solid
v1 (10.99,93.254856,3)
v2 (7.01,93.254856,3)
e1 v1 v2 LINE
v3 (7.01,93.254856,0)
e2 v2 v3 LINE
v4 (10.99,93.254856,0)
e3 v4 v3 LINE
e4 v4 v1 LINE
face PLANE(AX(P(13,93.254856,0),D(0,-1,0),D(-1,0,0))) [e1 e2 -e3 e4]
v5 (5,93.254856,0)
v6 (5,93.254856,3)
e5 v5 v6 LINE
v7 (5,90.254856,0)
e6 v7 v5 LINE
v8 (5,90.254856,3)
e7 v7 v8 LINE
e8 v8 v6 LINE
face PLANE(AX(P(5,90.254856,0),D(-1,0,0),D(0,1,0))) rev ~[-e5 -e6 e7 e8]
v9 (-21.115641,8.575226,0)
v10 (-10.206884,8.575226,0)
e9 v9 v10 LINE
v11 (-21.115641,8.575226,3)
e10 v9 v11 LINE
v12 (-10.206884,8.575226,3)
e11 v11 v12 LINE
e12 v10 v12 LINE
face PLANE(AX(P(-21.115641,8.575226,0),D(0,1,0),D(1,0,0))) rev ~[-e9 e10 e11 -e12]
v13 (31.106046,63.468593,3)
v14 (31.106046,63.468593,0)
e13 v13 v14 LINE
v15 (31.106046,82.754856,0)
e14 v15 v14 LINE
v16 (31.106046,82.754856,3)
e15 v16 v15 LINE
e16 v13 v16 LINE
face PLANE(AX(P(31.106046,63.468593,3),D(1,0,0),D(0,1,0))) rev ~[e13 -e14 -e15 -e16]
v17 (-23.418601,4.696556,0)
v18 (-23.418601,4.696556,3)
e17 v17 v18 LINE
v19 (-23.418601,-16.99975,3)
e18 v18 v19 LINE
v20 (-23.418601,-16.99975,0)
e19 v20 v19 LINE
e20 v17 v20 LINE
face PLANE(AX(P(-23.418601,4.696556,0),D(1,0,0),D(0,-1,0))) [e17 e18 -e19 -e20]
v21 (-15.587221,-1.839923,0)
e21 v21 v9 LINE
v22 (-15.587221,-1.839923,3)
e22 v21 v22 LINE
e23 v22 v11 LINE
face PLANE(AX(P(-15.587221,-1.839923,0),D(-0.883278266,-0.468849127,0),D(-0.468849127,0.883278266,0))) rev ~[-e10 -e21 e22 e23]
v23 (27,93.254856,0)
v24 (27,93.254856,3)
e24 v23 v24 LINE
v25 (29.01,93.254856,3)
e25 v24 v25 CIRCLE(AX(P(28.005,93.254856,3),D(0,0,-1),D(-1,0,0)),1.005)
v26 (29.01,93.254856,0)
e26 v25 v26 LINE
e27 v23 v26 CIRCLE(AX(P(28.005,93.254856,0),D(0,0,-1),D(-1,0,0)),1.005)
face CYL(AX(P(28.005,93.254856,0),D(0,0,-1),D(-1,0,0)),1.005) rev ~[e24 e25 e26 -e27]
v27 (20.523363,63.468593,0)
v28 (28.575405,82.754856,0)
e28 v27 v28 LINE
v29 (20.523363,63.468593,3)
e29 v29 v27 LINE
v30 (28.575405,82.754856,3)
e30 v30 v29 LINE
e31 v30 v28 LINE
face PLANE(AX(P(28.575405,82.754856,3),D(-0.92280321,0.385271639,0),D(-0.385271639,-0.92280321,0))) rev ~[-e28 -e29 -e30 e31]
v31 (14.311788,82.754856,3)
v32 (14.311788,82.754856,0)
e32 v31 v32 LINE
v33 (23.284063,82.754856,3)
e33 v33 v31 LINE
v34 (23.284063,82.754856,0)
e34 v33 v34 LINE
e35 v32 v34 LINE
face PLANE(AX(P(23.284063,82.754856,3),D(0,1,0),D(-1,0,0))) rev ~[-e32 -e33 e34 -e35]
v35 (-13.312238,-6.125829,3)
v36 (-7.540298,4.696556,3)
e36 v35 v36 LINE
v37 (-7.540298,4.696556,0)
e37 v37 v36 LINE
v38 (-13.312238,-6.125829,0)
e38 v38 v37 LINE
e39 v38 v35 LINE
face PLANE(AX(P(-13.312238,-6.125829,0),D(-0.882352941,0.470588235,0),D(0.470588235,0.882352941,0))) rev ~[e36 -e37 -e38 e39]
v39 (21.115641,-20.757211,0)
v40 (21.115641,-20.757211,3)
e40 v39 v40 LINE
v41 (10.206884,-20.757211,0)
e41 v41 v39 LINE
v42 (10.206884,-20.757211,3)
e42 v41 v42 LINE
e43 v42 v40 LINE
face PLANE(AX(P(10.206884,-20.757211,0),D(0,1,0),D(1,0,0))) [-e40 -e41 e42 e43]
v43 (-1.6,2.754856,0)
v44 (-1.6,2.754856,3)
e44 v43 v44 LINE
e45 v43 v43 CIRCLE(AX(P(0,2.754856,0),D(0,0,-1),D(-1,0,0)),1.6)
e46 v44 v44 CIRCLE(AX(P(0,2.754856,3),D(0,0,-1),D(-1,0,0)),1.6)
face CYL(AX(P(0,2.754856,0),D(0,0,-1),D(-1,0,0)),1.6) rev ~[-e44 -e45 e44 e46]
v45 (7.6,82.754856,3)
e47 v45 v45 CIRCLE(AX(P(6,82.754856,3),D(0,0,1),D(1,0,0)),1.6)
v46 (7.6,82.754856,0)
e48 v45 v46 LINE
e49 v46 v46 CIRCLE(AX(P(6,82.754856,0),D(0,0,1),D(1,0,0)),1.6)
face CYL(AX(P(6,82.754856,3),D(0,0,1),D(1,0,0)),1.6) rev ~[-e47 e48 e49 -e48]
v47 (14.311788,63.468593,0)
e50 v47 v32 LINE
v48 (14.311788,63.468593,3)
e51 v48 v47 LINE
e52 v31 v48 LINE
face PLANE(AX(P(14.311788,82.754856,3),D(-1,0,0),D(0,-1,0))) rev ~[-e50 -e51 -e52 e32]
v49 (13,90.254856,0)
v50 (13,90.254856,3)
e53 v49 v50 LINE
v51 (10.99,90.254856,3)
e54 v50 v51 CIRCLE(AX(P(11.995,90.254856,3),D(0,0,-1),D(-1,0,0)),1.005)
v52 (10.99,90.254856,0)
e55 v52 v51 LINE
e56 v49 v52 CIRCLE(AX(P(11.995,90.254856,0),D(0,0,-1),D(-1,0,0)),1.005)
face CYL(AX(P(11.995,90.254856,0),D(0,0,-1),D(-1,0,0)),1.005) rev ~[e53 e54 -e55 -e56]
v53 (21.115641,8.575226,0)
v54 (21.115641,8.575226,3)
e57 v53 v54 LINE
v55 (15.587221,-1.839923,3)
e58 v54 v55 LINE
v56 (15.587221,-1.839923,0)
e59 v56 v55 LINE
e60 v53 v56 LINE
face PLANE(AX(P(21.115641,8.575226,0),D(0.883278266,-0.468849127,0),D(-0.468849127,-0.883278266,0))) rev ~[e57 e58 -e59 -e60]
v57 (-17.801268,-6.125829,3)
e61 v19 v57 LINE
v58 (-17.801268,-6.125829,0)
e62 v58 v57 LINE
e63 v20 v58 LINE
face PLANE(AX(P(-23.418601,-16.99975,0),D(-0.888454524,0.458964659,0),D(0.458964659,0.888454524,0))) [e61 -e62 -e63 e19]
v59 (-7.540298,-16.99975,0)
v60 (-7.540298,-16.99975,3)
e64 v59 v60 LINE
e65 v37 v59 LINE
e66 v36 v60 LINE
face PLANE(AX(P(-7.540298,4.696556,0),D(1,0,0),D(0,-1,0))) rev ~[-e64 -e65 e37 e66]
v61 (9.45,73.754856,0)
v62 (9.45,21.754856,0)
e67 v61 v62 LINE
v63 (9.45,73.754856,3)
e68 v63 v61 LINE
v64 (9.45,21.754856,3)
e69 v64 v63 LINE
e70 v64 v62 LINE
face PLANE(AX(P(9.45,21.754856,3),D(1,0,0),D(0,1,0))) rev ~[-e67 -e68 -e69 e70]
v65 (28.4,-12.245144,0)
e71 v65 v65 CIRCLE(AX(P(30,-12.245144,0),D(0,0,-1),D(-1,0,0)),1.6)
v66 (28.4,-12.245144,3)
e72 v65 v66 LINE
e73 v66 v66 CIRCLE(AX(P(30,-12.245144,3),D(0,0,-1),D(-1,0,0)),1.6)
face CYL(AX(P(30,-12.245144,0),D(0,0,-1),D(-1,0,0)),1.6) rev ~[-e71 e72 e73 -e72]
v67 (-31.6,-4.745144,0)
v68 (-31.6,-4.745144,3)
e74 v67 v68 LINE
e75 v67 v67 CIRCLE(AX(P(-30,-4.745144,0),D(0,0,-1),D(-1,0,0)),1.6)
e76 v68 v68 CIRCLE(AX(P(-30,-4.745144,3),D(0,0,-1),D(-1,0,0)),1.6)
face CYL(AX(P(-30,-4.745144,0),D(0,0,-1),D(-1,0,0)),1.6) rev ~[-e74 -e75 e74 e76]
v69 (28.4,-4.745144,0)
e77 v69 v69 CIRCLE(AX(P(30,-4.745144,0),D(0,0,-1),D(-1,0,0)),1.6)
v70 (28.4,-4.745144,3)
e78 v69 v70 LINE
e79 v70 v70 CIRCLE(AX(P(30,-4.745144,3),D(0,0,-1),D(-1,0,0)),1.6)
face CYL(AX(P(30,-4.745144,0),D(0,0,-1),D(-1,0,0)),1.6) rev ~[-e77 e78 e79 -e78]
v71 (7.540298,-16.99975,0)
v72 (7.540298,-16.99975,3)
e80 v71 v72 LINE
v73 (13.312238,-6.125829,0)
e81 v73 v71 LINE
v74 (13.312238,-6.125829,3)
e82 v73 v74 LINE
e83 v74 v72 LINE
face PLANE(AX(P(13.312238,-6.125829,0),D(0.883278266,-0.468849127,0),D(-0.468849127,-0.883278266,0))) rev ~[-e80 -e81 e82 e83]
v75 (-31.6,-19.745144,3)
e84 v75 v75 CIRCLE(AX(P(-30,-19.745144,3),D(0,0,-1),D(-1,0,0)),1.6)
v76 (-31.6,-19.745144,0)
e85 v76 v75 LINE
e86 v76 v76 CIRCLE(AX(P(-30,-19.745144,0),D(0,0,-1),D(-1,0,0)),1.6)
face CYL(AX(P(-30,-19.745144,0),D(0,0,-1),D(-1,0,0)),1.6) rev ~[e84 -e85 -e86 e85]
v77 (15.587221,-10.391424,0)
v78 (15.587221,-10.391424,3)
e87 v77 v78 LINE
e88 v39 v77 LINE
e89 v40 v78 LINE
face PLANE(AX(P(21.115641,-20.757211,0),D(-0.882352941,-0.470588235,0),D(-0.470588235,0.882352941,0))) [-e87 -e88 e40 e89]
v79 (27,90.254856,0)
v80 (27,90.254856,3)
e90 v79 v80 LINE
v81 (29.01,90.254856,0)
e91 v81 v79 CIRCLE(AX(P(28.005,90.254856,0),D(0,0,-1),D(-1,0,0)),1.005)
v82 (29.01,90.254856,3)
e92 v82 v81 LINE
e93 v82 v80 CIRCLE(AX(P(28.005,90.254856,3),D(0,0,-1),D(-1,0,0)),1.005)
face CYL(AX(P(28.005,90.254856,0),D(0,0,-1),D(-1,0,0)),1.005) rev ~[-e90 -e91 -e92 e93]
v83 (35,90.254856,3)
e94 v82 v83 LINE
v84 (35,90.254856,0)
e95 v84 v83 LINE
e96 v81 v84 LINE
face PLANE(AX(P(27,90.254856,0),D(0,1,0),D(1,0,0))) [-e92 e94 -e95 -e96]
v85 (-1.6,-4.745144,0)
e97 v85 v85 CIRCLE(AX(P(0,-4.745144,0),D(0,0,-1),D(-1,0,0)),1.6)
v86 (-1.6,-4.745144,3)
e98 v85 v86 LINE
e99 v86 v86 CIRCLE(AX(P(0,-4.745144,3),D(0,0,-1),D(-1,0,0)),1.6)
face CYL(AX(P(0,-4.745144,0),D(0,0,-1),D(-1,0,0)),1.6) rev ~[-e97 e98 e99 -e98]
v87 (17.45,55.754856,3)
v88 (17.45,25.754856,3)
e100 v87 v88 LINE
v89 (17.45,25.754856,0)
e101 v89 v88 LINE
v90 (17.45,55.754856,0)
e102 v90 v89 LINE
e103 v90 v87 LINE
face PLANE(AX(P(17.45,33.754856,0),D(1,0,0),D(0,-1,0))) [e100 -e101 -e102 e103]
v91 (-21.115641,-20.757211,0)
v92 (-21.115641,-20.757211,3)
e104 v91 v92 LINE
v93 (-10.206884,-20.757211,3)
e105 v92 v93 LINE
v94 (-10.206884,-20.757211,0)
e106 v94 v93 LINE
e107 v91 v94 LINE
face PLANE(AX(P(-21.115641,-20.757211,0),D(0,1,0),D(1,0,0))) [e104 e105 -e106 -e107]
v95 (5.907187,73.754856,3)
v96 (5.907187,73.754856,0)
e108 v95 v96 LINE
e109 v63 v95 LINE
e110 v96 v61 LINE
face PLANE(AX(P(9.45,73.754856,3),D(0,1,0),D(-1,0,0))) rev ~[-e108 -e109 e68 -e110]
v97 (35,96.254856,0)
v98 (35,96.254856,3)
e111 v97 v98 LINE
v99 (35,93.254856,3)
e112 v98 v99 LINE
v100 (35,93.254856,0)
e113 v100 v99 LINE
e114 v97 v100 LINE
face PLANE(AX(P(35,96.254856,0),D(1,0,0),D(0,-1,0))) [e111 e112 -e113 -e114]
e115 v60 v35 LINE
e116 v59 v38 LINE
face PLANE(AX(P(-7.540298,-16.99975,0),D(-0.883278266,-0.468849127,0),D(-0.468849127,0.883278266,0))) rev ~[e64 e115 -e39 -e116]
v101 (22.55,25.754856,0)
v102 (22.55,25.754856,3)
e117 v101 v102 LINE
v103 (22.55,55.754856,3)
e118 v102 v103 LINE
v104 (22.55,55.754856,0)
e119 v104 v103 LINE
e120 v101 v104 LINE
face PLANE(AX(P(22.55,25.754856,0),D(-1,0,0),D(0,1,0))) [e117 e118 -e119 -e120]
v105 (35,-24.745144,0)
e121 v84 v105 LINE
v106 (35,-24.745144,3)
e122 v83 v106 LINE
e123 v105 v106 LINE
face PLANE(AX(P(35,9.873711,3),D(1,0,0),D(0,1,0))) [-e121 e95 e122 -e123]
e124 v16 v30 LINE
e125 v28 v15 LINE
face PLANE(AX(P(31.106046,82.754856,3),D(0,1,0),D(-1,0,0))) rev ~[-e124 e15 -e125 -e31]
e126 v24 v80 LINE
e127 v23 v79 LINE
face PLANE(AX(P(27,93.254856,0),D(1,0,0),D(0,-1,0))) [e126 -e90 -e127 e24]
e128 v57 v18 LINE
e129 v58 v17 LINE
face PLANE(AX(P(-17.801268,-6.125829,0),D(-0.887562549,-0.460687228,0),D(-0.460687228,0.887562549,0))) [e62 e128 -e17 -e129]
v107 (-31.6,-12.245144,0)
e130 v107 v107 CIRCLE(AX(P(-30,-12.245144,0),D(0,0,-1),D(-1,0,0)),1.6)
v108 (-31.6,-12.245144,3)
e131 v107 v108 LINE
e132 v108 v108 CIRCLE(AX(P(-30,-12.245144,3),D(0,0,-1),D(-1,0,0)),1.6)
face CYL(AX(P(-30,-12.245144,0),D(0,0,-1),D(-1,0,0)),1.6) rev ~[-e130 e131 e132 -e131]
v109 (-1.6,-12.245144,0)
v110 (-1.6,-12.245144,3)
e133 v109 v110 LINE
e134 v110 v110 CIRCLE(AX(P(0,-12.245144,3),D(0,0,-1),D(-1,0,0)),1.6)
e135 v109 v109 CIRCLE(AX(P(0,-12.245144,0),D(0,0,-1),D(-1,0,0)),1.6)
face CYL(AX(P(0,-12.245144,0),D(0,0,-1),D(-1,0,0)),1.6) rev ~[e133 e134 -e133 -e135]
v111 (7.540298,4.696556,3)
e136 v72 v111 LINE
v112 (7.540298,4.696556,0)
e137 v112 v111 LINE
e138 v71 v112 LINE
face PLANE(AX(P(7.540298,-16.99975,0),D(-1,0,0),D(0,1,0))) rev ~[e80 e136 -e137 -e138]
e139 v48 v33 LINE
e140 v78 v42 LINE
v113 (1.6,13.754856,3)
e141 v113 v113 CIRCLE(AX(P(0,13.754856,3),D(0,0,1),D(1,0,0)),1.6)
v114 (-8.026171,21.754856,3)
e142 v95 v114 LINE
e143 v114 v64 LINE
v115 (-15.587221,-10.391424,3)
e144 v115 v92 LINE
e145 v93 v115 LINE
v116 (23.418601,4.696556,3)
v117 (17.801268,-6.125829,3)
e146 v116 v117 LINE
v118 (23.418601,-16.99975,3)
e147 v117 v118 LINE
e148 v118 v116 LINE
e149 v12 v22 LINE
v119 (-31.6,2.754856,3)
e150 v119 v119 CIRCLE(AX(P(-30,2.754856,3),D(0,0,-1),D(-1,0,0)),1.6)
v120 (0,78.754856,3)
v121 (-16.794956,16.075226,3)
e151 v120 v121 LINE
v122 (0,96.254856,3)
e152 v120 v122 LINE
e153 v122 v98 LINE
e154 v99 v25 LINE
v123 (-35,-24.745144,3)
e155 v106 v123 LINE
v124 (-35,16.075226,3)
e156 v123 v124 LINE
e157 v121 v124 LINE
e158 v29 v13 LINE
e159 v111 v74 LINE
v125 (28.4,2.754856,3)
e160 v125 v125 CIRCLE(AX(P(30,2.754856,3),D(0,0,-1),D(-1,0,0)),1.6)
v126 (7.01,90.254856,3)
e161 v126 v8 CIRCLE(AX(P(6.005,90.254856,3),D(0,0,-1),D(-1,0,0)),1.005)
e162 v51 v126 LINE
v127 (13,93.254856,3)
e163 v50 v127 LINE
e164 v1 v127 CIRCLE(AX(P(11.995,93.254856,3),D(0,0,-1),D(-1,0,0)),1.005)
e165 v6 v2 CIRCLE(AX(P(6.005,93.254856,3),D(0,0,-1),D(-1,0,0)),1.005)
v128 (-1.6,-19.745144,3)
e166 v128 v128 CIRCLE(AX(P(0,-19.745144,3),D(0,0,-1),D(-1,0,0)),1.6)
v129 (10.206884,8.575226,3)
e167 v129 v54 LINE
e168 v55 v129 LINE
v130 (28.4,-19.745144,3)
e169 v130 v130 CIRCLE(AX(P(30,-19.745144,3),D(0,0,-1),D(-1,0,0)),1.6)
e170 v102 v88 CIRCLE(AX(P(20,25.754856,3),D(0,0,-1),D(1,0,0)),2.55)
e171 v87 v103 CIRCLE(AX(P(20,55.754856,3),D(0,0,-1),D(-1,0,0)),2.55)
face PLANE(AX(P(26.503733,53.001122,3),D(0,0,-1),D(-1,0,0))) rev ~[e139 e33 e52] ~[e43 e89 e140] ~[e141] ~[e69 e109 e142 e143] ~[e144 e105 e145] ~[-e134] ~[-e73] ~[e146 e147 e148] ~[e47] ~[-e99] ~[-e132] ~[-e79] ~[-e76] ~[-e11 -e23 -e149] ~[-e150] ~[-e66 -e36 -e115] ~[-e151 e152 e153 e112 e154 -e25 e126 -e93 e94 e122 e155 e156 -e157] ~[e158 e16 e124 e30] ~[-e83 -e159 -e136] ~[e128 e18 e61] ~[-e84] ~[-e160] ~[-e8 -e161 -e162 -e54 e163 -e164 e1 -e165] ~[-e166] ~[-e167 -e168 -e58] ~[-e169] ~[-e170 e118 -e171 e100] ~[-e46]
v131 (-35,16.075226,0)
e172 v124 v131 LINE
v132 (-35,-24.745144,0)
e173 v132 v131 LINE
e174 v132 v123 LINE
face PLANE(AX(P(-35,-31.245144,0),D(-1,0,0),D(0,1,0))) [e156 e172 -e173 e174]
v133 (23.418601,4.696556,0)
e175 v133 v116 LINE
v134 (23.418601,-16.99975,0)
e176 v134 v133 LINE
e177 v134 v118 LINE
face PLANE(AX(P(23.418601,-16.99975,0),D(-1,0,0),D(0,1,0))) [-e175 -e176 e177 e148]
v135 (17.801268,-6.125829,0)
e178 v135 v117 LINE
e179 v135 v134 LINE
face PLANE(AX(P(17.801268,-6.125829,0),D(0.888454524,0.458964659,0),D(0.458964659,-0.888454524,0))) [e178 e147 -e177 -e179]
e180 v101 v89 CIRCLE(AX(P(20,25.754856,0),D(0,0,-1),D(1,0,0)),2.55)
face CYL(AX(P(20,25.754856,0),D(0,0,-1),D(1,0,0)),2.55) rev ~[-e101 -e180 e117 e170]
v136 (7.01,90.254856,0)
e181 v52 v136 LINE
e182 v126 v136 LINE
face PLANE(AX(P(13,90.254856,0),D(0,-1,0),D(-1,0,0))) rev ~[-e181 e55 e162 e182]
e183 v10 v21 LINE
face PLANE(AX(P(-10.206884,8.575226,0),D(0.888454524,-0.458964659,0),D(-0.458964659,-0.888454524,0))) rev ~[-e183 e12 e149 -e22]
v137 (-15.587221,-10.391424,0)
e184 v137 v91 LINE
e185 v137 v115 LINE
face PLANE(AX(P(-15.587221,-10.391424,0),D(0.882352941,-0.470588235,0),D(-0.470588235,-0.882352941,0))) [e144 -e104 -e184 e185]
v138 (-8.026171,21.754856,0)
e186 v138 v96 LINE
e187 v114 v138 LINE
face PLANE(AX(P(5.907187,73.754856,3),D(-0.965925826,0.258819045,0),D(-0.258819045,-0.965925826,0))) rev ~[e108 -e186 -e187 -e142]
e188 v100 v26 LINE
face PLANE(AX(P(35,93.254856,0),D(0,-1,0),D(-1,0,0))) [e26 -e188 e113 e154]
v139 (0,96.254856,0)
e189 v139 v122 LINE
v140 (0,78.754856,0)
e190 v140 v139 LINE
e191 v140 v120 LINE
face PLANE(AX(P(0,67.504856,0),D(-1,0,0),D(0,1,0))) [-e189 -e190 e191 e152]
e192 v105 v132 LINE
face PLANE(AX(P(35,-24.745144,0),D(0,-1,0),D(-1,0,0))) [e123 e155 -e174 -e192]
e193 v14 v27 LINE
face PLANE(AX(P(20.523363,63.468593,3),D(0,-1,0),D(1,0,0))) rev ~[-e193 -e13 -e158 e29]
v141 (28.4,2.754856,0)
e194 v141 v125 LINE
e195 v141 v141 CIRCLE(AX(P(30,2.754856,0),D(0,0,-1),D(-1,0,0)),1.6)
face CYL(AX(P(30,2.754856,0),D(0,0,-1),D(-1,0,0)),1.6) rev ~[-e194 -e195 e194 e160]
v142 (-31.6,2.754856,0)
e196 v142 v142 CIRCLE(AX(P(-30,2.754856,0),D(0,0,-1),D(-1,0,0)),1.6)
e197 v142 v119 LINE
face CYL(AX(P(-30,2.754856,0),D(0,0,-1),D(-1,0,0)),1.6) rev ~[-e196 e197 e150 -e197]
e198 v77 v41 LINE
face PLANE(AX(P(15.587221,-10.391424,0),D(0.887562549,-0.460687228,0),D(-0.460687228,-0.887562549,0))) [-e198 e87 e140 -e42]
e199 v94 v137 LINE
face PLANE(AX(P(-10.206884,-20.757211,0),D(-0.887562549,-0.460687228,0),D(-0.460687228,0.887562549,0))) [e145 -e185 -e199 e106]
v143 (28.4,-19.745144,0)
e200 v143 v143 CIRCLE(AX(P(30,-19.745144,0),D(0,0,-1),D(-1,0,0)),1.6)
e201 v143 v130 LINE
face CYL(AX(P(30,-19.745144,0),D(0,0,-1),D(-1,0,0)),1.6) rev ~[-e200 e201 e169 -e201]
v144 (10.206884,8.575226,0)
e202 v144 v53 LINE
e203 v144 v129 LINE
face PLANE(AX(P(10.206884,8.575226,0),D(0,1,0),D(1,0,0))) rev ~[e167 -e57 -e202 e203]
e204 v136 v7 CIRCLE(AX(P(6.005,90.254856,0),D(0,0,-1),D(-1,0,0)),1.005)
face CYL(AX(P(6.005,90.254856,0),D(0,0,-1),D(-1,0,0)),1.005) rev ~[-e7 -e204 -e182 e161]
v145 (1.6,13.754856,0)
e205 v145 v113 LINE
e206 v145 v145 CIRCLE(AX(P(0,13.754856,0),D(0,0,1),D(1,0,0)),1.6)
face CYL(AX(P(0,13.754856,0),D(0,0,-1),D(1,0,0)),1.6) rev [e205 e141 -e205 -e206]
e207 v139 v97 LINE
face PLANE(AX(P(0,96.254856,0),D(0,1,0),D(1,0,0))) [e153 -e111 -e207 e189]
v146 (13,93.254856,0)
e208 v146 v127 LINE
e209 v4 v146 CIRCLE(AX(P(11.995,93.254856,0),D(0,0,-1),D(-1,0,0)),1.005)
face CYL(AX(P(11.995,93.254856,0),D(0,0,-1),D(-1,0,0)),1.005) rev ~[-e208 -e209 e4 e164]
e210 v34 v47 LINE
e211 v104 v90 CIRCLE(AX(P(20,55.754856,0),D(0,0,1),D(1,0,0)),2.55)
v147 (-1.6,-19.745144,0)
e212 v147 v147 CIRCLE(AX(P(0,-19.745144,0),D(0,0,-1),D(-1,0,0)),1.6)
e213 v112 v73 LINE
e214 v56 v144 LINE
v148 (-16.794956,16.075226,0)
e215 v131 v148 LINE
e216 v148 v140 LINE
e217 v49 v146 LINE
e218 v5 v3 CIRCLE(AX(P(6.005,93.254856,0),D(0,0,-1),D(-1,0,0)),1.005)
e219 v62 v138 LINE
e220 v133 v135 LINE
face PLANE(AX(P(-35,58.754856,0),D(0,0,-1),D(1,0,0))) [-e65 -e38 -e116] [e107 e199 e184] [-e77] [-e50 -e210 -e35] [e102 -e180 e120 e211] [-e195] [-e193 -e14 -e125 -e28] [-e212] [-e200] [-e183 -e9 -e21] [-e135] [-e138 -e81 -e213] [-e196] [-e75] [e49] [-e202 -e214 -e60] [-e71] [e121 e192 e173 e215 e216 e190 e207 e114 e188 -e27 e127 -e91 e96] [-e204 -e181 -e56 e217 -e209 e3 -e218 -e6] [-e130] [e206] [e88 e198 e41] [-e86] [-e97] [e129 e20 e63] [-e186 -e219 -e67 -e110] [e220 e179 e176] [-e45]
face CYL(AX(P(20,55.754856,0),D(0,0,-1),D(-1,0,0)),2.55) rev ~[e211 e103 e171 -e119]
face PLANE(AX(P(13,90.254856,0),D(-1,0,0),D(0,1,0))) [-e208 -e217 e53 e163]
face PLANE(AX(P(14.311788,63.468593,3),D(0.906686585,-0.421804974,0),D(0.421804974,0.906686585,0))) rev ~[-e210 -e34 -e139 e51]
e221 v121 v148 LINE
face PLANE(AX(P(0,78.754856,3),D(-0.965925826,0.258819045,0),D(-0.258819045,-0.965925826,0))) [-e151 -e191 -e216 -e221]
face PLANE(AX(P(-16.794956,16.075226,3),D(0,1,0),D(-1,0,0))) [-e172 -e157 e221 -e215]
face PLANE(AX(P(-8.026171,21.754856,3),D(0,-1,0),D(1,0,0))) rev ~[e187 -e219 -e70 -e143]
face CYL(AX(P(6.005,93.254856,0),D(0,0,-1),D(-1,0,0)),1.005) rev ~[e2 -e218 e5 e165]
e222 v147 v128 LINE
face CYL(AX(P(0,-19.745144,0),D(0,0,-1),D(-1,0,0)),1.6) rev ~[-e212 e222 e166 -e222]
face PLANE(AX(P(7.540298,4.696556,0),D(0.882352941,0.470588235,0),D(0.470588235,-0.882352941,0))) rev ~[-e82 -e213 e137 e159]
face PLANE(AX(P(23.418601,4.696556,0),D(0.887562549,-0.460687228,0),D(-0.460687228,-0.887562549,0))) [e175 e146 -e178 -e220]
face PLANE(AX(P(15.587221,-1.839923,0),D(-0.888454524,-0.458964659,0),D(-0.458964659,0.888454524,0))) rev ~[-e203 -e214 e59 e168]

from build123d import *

# Parameters (mm, degrees)
SKETCH_1_R           = 1.6
EXTRUDE_2_DEPTH      = 3
SKETCH_2_W           = 70
SKETCH_2_H           = 20
EXTRUDE_3_DEPTH      = 3
FILLET_1_R           = 40
CUT_EXTRUDE_1_REACH  = 5
SKETCH_4_R           = 1.6
CUT_EXTRUDE_2_REACH  = 5
SKETCH_5_W           = 20
SKETCH_5_H           = 30
SKETCH_6_W           = 3
SKETCH_6_H           = 30
EXTRUDE_1_DEPTH      = 3
SKETCH_7_W           = 20
SKETCH_7_H           = 3
EXTRUDE_2_2_DEPTH    = 3
EXTRUDE_3_2_DEPTH    = 3
CUT_EXTRUDE_3_REACH  = 5
SKETCH_9_W           = 10
SKETCH_9_H           = 40
EXTRUDE_5_DEPTH      = 3
CUT_EXTRUDE_4_REACH  = 5
FILLET_2_R           = 1
SKETCH_13_W          = 70
SKETCH_13_H          = 3
EXTRUDE_4_DEPTH      = 20
SKETCH_14_W          = 8
SKETCH_14_H          = 3
CUT_EXTRUDE_5_DEPTH  = 3
CUT_EXTRUDE_6_REACH  = 5
SKETCH_15_R          = 1.25
CUT_EXTRUDE_7_REACH  = 5
SKETCH_16_R          = 1.6
CUT_EXTRUDE_8_REACH  = 5
SKETCH_17_W          = 60
SKETCH_17_H          = 15
SKETCH_18_W          = 3
SKETCH_18_H          = 15
EXTRUDE_6_DEPTH      = 3
EXTRUDE_8_DEPTH      = 3
SKETCH_20_W          = 2
SKETCH_20_H          = 14.378680804
SKETCH_20_H_2        = 13.161540553
EXTRUDE_9_DEPTH      = 3
CUT_EXTRUDE_9_DEPTH  = 4.0000001
SKETCH_22_W          = 10.058994462
SKETCH_22_H          = 73.690988819
EXTRUDE_5_2_DEPTH    = 3
SKETCH_23_W          = 8
SKETCH_23_H          = 3
EXTRUDE_6_2_DEPTH    = 3
SKETCH_24_R          = 1.005
CUT_EXTRUDE_10_DEPTH = 4.0000001
CUT_EXTRUDE_11_DEPTH = 4.0000001
EXTRUDE_7_DEPTH      = 3
SKETCH_27_R          = 1.6
CUT_EXTRUDE_12_DEPTH = 4
SKETCH_28_W          = 70
SKETCH_28_H          = 6.5
CUT_EXTRUDE_13_DEPTH = 4
EXTRUDE_8_2_DEPTH    = 3
SKETCH_32_R          = 1.6
CUT_EXTRUDE_15_DEPTH = 4


with BuildPart() as part:
    # 草图1 → Extrude 2 (new body)
    with BuildSketch(Plane.XY):
        with BuildLine():
            Line((0, 38.754855538), (-35, 38.754855538))
            Line((-35, 38.754855538), (-35, 13.754855538))
            ThreePointArc((-35, 13.754855538), (-33.535533906, 10.219321632), (-30, 8.754855538))
            Line((-30, 8.754855538), (-5, 8.754855538))
            ThreePointArc((-5, 8.754855538), (-1.464466094, 7.290389444), (0, 3.754855538))
            Line((0, 3.754855538), (0, -1.245144462))
            ThreePointArc((0, -1.245144462), (1.464466094, -4.780678368), (5, -6.245144462))
            Line((5, -6.245144462), (15, -6.245144462))
            ThreePointArc((15, -6.245144462), (20, -11.245144462), (25, -6.245144462))
            Line((25, -6.245144462), (30, -6.245144462))
            ThreePointArc((30, -6.245144462), (33.535533906, -4.780678368), (35, -1.245144462))
            Line((35, -1.245144462), (35, 38.754855538))
            Line((35, 38.754855538), (0, 38.754855538))
        make_face()
        with Locations((0, 13.754855538)):
            Circle(SKETCH_1_R, mode=Mode.SUBTRACT)
        with Locations((-30, 13.754855538)):
            Circle(SKETCH_1_R, mode=Mode.SUBTRACT)
        with Locations((30, 13.754855538)):
            Circle(SKETCH_1_R, mode=Mode.SUBTRACT)
        with Locations((-30, 23.754855538)):
            Circle(SKETCH_1_R, mode=Mode.SUBTRACT)
        with Locations((0, 23.754855538)):
            Circle(SKETCH_1_R, mode=Mode.SUBTRACT)
        with Locations((30, 23.754855538)):
            Circle(SKETCH_1_R, mode=Mode.SUBTRACT)
        with Locations((-30, 33.754855538)):
            Circle(SKETCH_1_R, mode=Mode.SUBTRACT)
        with Locations((0, 33.754855538)):
            Circle(SKETCH_1_R, mode=Mode.SUBTRACT)
        with Locations((30, 33.754855538)):
            Circle(SKETCH_1_R, mode=Mode.SUBTRACT)
        with BuildLine():
            Line((17.45, 33.754855538), (17.45, -6.245144462))
            ThreePointArc((17.45, -6.245144462), (20, -8.795144462), (22.55, -6.245144462))
            Line((22.55, -6.245144462), (22.55, 33.754855538))
            ThreePointArc((22.55, 33.754855538), (20, 36.304855538), (17.45, 33.754855538))
        make_face(mode=Mode.SUBTRACT)
    extrude(amount=EXTRUDE_2_DEPTH)

    # 草图2 → Extrude 3 (add)
    with BuildSketch(Plane.XY.offset(3)):
        with Locations((0, 48.754855538)):
            Rectangle(SKETCH_2_W, SKETCH_2_H)
    extrude(amount=-EXTRUDE_3_DEPTH)

    # 圆角1
    fillet_1_edges = [part.edges().sort_by_distance(p)[0] for p in [
        (25, -6.245144462, 1.5),
        (15, -6.245144462, 1.5),
    ]]
    fillet(fillet_1_edges, radius=FILLET_1_R)

    # 草图4 → 切除-拉伸1 (cut, up to next)
    with BuildSketch(Plane.XY.offset(3), mode=Mode.PRIVATE) as cut_extrude_1_sk1:
        with Locations((-30, 43.754855538)):
            Circle(SKETCH_4_R)
    cut_extrude_1_tool1 = extrude(cut_extrude_1_sk1.sketch, amount=-CUT_EXTRUDE_1_REACH, mode=Mode.PRIVATE) & part.part
    add(cut_extrude_1_tool1.solids().sort_by_distance((-30, 43.754856, 3))[0], mode=Mode.SUBTRACT)
    # 草图4 → 切除-拉伸1 (cut, up to next)
    with BuildSketch(Plane.XY.offset(3), mode=Mode.PRIVATE) as cut_extrude_1_sk2:
        with Locations((0, 43.754855538)):
            Circle(SKETCH_4_R)
    cut_extrude_1_tool2 = extrude(cut_extrude_1_sk2.sketch, amount=-CUT_EXTRUDE_1_REACH, mode=Mode.PRIVATE) & part.part
    add(cut_extrude_1_tool2.solids().sort_by_distance((0, 43.754856, 3))[0], mode=Mode.SUBTRACT)
    # 草图4 → 切除-拉伸1 (cut, up to next)
    with BuildSketch(Plane.XY.offset(3), mode=Mode.PRIVATE) as cut_extrude_1_sk3:
        with Locations((30, 43.754855538)):
            Circle(SKETCH_4_R)
    cut_extrude_1_tool3 = extrude(cut_extrude_1_sk3.sketch, amount=-CUT_EXTRUDE_1_REACH, mode=Mode.PRIVATE) & part.part
    add(cut_extrude_1_tool3.solids().sort_by_distance((30, 43.754856, 3))[0], mode=Mode.SUBTRACT)

    # 草图5 → 切除-拉伸2 (cut, up to next)
    with BuildSketch(Plane.XY.offset(3), mode=Mode.PRIVATE) as cut_extrude_2_sk1:
        with Locations((-15, 28.754855538)):
            Rectangle(SKETCH_5_W, SKETCH_5_H)
    cut_extrude_2_tool1 = extrude(cut_extrude_2_sk1.sketch, amount=-CUT_EXTRUDE_2_REACH, mode=Mode.PRIVATE) & part.part
    add(cut_extrude_2_tool1.solids().sort_by_distance((-15, 28.754856, 3))[0], mode=Mode.SUBTRACT)

    # 草图6 → 拉伸-薄壁1 (add)
    with BuildSketch(Plane.XY.offset(3)):
        with Locations((-15, 28.754855538)):
            Rectangle(SKETCH_6_W, SKETCH_6_H)
    extrude(amount=-EXTRUDE_1_DEPTH)

    # 草图7 → Extrude 2 2 (add)
    with BuildSketch(Plane.XY.offset(3)):
        with Locations((-15, 28.754855538)):
            Rectangle(SKETCH_7_W, SKETCH_7_H)
    extrude(amount=-EXTRUDE_2_2_DEPTH)

    # 草图8 → Extrude 3 2 (add)
    with BuildSketch(Plane(origin=(0, 0, 0), x_dir=(-1, 0, 0), z_dir=(0, 0, -1))):
        Polygon((6.248075442, 12.922805243), (26.248075442, 42.922805243), (23.751924558, 44.586905832), (3.751924558, 14.586905832), align=None)
        Polygon((3.751924558, 42.922805243), (23.751924558, 12.922805243), (26.248075442, 14.586905832), (6.248075442, 44.586905832), align=None)
    extrude(amount=-EXTRUDE_3_2_DEPTH)

    # 草图9 → 切除-拉伸3 (cut, up to next)
    with BuildSketch(Plane.XY.offset(3), mode=Mode.PRIVATE) as cut_extrude_3_sk1:
        with Locations((8.9625, 18.754855538)):
            Rectangle(SKETCH_9_W, SKETCH_9_H)
    cut_extrude_3_tool1 = extrude(cut_extrude_3_sk1.sketch, amount=-CUT_EXTRUDE_3_REACH, mode=Mode.PRIVATE) & part.part
    add(cut_extrude_3_tool1.solids().sort_by_distance((8.9625, 18.754856, 3))[0], mode=Mode.SUBTRACT)

    # 草图11 → Extrude 5 (add)
    with BuildSketch(Plane.XY.offset(3)):
        Polygon((2.90183984, 37.694195354), (11.841179656, 28.75485573), (1.841179656, 18.754855515), (11.841179656, 8.75485573), (2.901839817, -0.184484302), (5.023160183, -2.305804623), (16.083820344, 8.754855776), (6.083820344, 18.75485556), (16.083820344, 28.754855776), (5.02316016, 39.815515721), align=None)
    extrude(amount=-EXTRUDE_5_DEPTH)

    # 草图12 → 切除-拉伸4 (cut, up to next)
    with BuildSketch(Plane(origin=(0, 0, 0), x_dir=(-1, 0, 0), z_dir=(0, 0, -1)), mode=Mode.PRIVATE) as cut_extrude_4_sk1:
        Polygon((-24.720414745, 9.100184733), (-32.811491279, -0.245144462), (-24.720414745, -0.245144462), align=None)
    cut_extrude_4_tool1 = extrude(cut_extrude_4_sk1.sketch, amount=-CUT_EXTRUDE_4_REACH, mode=Mode.PRIVATE) & part.part
    add(cut_extrude_4_tool1.solids().sort_by_distance((27.41744, 2.869965, 0))[0], mode=Mode.SUBTRACT)

    # 圆角2
    fillet_2_edges = [part.edges().sort_by_distance(p)[0] for p in [
        (13.9625, -1.245144462, 1.5),
        (6.083820321, -1.245144462, 1.5),
        (13.9625, 6.633535387, 1.5),
        (24.720414745, 9.100184733, 1.5),
        (32.811491279, -0.245144462, 1.5),
    ]]
    fillet(fillet_2_edges, radius=FILLET_2_R)

    # 草图13 → 凸台-拉伸4 (add)
    with BuildSketch(Plane(origin=(0, 58.754855538, 0), x_dir=(1, 0, 0), z_dir=(0, 1, 0))):
        with Locations((0, -1.5)):
            Rectangle(SKETCH_13_W, SKETCH_13_H)
    extrude(amount=EXTRUDE_4_DEPTH)

    # 草图14 → 切除-拉伸5 (cut)
    with BuildSketch(Plane(origin=(0, 0, 0), x_dir=(-1, 0, 0), z_dir=(0, 0, -1))):
        with Locations((-31, 70.254855538)):
            Rectangle(SKETCH_14_W, SKETCH_14_H)
        with Locations((-9, 70.254855538)):
            Rectangle(SKETCH_14_W, SKETCH_14_H)
    extrude(amount=-CUT_EXTRUDE_5_DEPTH, mode=Mode.SUBTRACT)

    # 草图15 → 切除-拉伸6 (cut, up to next)
    with BuildSketch(Plane.XY.offset(3), mode=Mode.PRIVATE) as cut_extrude_6_sk1:
        with Locations((28.25, 71.754855538)):
            Circle(SKETCH_15_R)
    cut_extrude_6_tool1 = extrude(cut_extrude_6_sk1.sketch, amount=-CUT_EXTRUDE_6_REACH, mode=Mode.PRIVATE) & part.part
    add(cut_extrude_6_tool1.solids().sort_by_distance((28.25, 71.754856, 3))[0], mode=Mode.SUBTRACT)
    # 草图15 → 切除-拉伸6 (cut, up to next)
    with BuildSketch(Plane.XY.offset(3), mode=Mode.PRIVATE) as cut_extrude_6_sk2:
        with Locations((28.25, 68.754855538)):
            Circle(SKETCH_15_R)
    cut_extrude_6_tool2 = extrude(cut_extrude_6_sk2.sketch, amount=-CUT_EXTRUDE_6_REACH, mode=Mode.PRIVATE) & part.part
    add(cut_extrude_6_tool2.solids().sort_by_distance((28.25, 68.754856, 3))[0], mode=Mode.SUBTRACT)
    # 草图15 → 切除-拉伸6 (cut, up to next)
    with BuildSketch(Plane.XY.offset(3), mode=Mode.PRIVATE) as cut_extrude_6_sk3:
        with Locations((6.25, 71.754855538)):
            Circle(SKETCH_15_R)
    cut_extrude_6_tool3 = extrude(cut_extrude_6_sk3.sketch, amount=-CUT_EXTRUDE_6_REACH, mode=Mode.PRIVATE) & part.part
    add(cut_extrude_6_tool3.solids().sort_by_distance((6.25, 71.754856, 3))[0], mode=Mode.SUBTRACT)
    # 草图15 → 切除-拉伸6 (cut, up to next)
    with BuildSketch(Plane.XY.offset(3), mode=Mode.PRIVATE) as cut_extrude_6_sk4:
        with Locations((6.25, 68.754855538)):
            Circle(SKETCH_15_R)
    cut_extrude_6_tool4 = extrude(cut_extrude_6_sk4.sketch, amount=-CUT_EXTRUDE_6_REACH, mode=Mode.PRIVATE) & part.part
    add(cut_extrude_6_tool4.solids().sort_by_distance((6.25, 68.754856, 3))[0], mode=Mode.SUBTRACT)
    # 草图15 → 切除-拉伸6 (cut, up to next)
    with BuildSketch(Plane.XY.offset(3), mode=Mode.PRIVATE) as cut_extrude_6_sk5:
        with Locations((11.75, 71.754855538)):
            Circle(SKETCH_15_R)
    cut_extrude_6_tool5 = extrude(cut_extrude_6_sk5.sketch, amount=-CUT_EXTRUDE_6_REACH, mode=Mode.PRIVATE) & part.part
    add(cut_extrude_6_tool5.solids().sort_by_distance((11.75, 71.754856, 3))[0], mode=Mode.SUBTRACT)
    # 草图15 → 切除-拉伸6 (cut, up to next)
    with BuildSketch(Plane.XY.offset(3), mode=Mode.PRIVATE) as cut_extrude_6_sk6:
        with Locations((11.75, 68.754855538)):
            Circle(SKETCH_15_R)
    cut_extrude_6_tool6 = extrude(cut_extrude_6_sk6.sketch, amount=-CUT_EXTRUDE_6_REACH, mode=Mode.PRIVATE) & part.part
    add(cut_extrude_6_tool6.solids().sort_by_distance((11.75, 68.754856, 3))[0], mode=Mode.SUBTRACT)

    # 草图16 → 切除-拉伸7 (cut, up to next)
    with BuildSketch(Plane.XY.offset(3), mode=Mode.PRIVATE) as cut_extrude_7_sk1:
        with Locations((-30, 70.254855538)):
            Circle(SKETCH_16_R)
    cut_extrude_7_tool1 = extrude(cut_extrude_7_sk1.sketch, amount=-CUT_EXTRUDE_7_REACH, mode=Mode.PRIVATE) & part.part
    add(cut_extrude_7_tool1.solids().sort_by_distance((-30, 70.254856, 3))[0], mode=Mode.SUBTRACT)

    # 草图17 → 切除-拉伸8 (cut, up to next)
    with BuildSketch(Plane(origin=(0, 0, 0), x_dir=(-1, 0, 0), z_dir=(0, 0, -1)), mode=Mode.PRIVATE) as cut_extrude_8_sk1:
        with Locations((0, 57.004855538)):
            Rectangle(SKETCH_17_W, SKETCH_17_H)
    cut_extrude_8_tool1 = extrude(cut_extrude_8_sk1.sketch, amount=-CUT_EXTRUDE_8_REACH, mode=Mode.PRIVATE) & part.part
    add(cut_extrude_8_tool1.solids().sort_by_distance((0, 57.004856, 0))[0], mode=Mode.SUBTRACT)

    # 草图18 → Extrude 6 (add)
    with BuildSketch(Plane(origin=(0, 0, 0), x_dir=(-1, 0, 0), z_dir=(0, 0, -1))):
        with Locations((0, 57.004855538)):
            Rectangle(SKETCH_18_W, SKETCH_18_H)
        Polygon((-31.060660126, 63.44419532), (-16.060658821, 48.44419532), (-13.939338569, 50.565515756), (-28.939339874, 65.565515756), align=None)
        Polygon((16.060661523, 48.444195412), (31.060660218, 63.444195412), (28.939339782, 65.565515663), (13.939341087, 50.565515663), align=None)
    extrude(amount=-EXTRUDE_6_DEPTH)

    # 草图19 → Extrude 8 (add)
    with BuildSketch(Plane(origin=(0, 0, 0), x_dir=(-1, 0, 0), z_dir=(0, 0, -1))):
        Polygon((-2.560660172, 65.565515709), (-17.560660172, 50.565515709), (-15.439339828, 48.444195366), (-0.439339828, 63.444195366), align=None)
        Polygon((0.439339828, 63.444195366), (15.439339828, 48.444195366), (17.560660172, 50.565515709), (2.560660172, 65.565515709), align=None)
    extrude(amount=-EXTRUDE_8_DEPTH)

    # 草图20 → 拉伸-薄壁9 (add)
    with BuildSketch(Plane(origin=(0, 0, 0), x_dir=(-1, 0, 0), z_dir=(0, 0, -1))):
        Polygon((-29.292893219, 48.797748756), (-22.300360013, 55.790281962), (-23.714573576, 57.204495524), (-30.707106781, 50.211962319), align=None)
        Polygon((-0.792893219, 50.211962319), (-7.785426424, 57.204495524), (-9.199639987, 55.790281962), (-2.207106781, 48.797748756), align=None)
        Polygon((2.207106781, 48.797748756), (9.656140344, 56.246782319), (8.241926781, 57.660995881), (0.792893219, 50.211962319), align=None)
        Polygon((30.707106781, 50.211962319), (23.258073219, 57.660995881), (21.843859656, 56.246782319), (29.292893219, 48.797748756), align=None)
        with Locations((15.750000574, 59.565515709)):
            Rectangle(SKETCH_20_W, SKETCH_20_H)
        with Locations((-15.749999426, 58.956946732)):
            Rectangle(SKETCH_20_W, SKETCH_20_H_2)
    extrude(amount=-EXTRUDE_9_DEPTH)

    # 草图21 → 切除-拉伸9 (cut, through all)
    with BuildSketch(Plane(origin=(0, 0, 0), x_dir=(-1, 0, 0), z_dir=(0, 0, -1))):
        with BuildLine():
            Line((-17.45, 55.754855538), (-17.45, 25.754855538))
            ThreePointArc((-17.45, 25.754855538), (-20, 23.204855538), (-22.55, 25.754855538))
            Line((-22.55, 25.754855538), (-22.55, 55.754855538))
            ThreePointArc((-22.55, 55.754855538), (-20, 58.304855538), (-17.45, 55.754855538))
        make_face()
    extrude(amount=-CUT_EXTRUDE_9_DEPTH, mode=Mode.SUBTRACT)

    # 草图22 → Extrude 5 2 (add)
    with BuildSketch(Plane(origin=(0, 0, 0), x_dir=(-1, 0, 0), z_dir=(0, 0, -1))):
        with Locations((-19.690917514, 27.659361129)):
            Rectangle(SKETCH_22_W, SKETCH_22_H)
        with BuildLine():
            Line((-17.45, 25.754855538), (-17.45, 55.754855538))
            ThreePointArc((-17.45, 55.754855538), (-20, 58.304855538), (-22.55, 55.754855538))
            Line((-22.55, 55.754855538), (-22.55, 25.754855538))
            ThreePointArc((-22.55, 25.754855538), (-20, 23.204855538), (-17.45, 25.754855538))
        make_face(mode=Mode.SUBTRACT)
    extrude(amount=-EXTRUDE_5_2_DEPTH)

    # 草图23 → Extrude 6 2 (add)
    with BuildSketch(Plane(origin=(0, 0, 0), x_dir=(-1, 0, 0), z_dir=(0, 0, -1))):
        Polygon((-35, 67.504855538), (0, 67.504855538), (0, 96.254855538), (-35, 96.254855538), (-35, 93.254855538), (-27, 93.254855538), (-27, 90.254855538), (-35, 90.254855538), align=None)
        with Locations((-9, 91.754855538)):
            Rectangle(SKETCH_23_W, SKETCH_23_H, mode=Mode.SUBTRACT)
    extrude(amount=-EXTRUDE_6_2_DEPTH)

    # 草图24 → 切除-拉伸10 (cut, through all)
    with BuildSketch(Plane(origin=(0, 0, 0), x_dir=(-1, 0, 0), z_dir=(0, 0, -1))):
        with Locations((-28.005, 93.254855538)):
            Circle(SKETCH_24_R)
        with Locations((-28.005, 90.254855538)):
            Circle(SKETCH_24_R)
        with Locations((-11.995, 93.254855538)):
            Circle(SKETCH_24_R)
        with Locations((-11.995, 90.254855538)):
            Circle(SKETCH_24_R)
        with Locations((-6.005, 90.254855538)):
            Circle(SKETCH_24_R)
        with Locations((-6.005, 93.254855538)):
            Circle(SKETCH_24_R)
    extrude(amount=-CUT_EXTRUDE_10_DEPTH, mode=Mode.SUBTRACT)

    # 草图25 → 切除-拉伸11 (cut, through all)
    with BuildSketch(Plane(origin=(0, 0, 0), x_dir=(-1, 0, 0), z_dir=(0, 0, -1))):
        Polygon((-25.460220745, 69.504855538), (-9.539779255, 69.504855538), (-17.5, 75.156612267), align=None)
        Polygon((-30, 69.504855538), (-30, 85.254855538), (-19.5, 76.959855538), align=None)
        Polygon((-25.160499416, 85.254855538), (-9.839500584, 85.254855538), (-17.5, 79.203060999), align=None)
        Polygon((-5, 69.504855538), (-5, 85.254855538), (-15.5, 76.959855538), align=None)
    extrude(amount=-CUT_EXTRUDE_11_DEPTH, mode=Mode.SUBTRACT)

    # 草图26 → 凸台-拉伸7 (add)
    with BuildSketch(Plane(origin=(0, 0, 0), x_dir=(-1, 0, 0), z_dir=(0, 0, -1))):
        with BuildLine():
            Line((35, 13.754855538), (31.6, 13.754855538))
            ThreePointArc((31.6, 13.754855538), (30, 12.154855538), (28.4, 13.754855538))
            Line((28.4, 13.754855538), (1.6, 13.754855538))
            ThreePointArc((1.6, 13.754855538), (0, 12.154855538), (-1.6, 13.754855538))
            Line((-1.6, 13.754855538), (-28.4, 13.754855538))
            ThreePointArc((-28.4, 13.754855538), (-30, 12.154855538), (-31.6, 13.754855538))
            Line((-31.6, 13.754855538), (-35, 13.754855538))
            Line((-35, 13.754855538), (-35, -31.245144462))
            Line((-35, -31.245144462), (35, -31.245144462))
            Line((35, -31.245144462), (35, 13.754855538))
        make_face()
    extrude(amount=-EXTRUDE_7_DEPTH)

    # 草图27 → 切除-拉伸12 (cut, through all)
    with BuildSketch(Plane(origin=(0, 0, 0), x_dir=(-1, 0, 0), z_dir=(0, 0, -1))):
        with Locations((-30, 13.754855538)):
            Circle(SKETCH_27_R)
        with Locations((0, 13.754855538)):
            Circle(SKETCH_27_R)
        with Locations((30, 13.754855538)):
            Circle(SKETCH_27_R)
        with Locations((-30, 2.754855538)):
            Circle(SKETCH_27_R)
        with Locations((0, 2.754855538)):
            Circle(SKETCH_27_R)
        with Locations((30, 2.754855538)):
            Circle(SKETCH_27_R)
        with Locations((-30, -4.745144462)):
            Circle(SKETCH_27_R)
        with Locations((0, -4.745144462)):
            Circle(SKETCH_27_R)
        with Locations((30, -4.745144462)):
            Circle(SKETCH_27_R)
        with Locations((-30, -12.245144462)):
            Circle(SKETCH_27_R)
        with Locations((0, -12.245144462)):
            Circle(SKETCH_27_R)
        with Locations((30, -12.245144462)):
            Circle(SKETCH_27_R)
        with Locations((-30, -19.745144462)):
            Circle(SKETCH_27_R)
        with Locations((0, -19.745144462)):
            Circle(SKETCH_27_R)
        with Locations((30, -19.745144462)):
            Circle(SKETCH_27_R)
    extrude(amount=-CUT_EXTRUDE_12_DEPTH, mode=Mode.SUBTRACT)

    # 草图28 → 切除-拉伸13 (cut, through all)
    with BuildSketch(Plane(origin=(0, 0, 0), x_dir=(-1, 0, 0), z_dir=(0, 0, -1))):
        with Locations((0, -27.995144462)):
            Rectangle(SKETCH_28_W, SKETCH_28_H)
        Polygon((21.115641359, 8.57522588), (10.206883688, 8.57522588), (15.587221181, -1.839922846), align=None)
        Polygon((23.418601311, 4.696556486), (23.418601311, -16.999750437), (17.80126769, -6.12582939), align=None)
        Polygon((21.115641359, -20.757211413), (10.206883688, -20.757211413), (15.587221181, -10.391423581), align=None)
        Polygon((7.540298479, 4.696556486), (7.540298479, -16.999750437), (13.312237613, -6.12582939), align=None)
        Polygon((-15.587221181, -10.391423581), (-10.206883688, -20.757211413), (-21.115641359, -20.757211413), align=None)
        Polygon((-13.312237613, -6.12582939), (-7.540298479, -16.999750437), (-7.540298479, 4.696556486), align=None)
        Polygon((-17.80126769, -6.12582939), (-23.418601311, -16.999750437), (-23.418601311, 4.696556486), align=None)
        Polygon((-21.115641359, 8.57522588), (-15.587221181, -1.839922846), (-10.206883688, 8.57522588), align=None)
    extrude(amount=-CUT_EXTRUDE_13_DEPTH, mode=Mode.SUBTRACT)

    # 草图31 → Extrude 8 2 (add)
    with BuildSketch(Plane.XY.offset(3)):
        Polygon((-35, 78.754855538), (-35, 9.873710658), (-4.007403078, 9.873710658), (-4.007403078, 17.053641173), (2.83857718, 17.053641173), (2.83857718, 9.873710658), (15.695662056, 9.873710658), (15.695662056, 61.469025289), (23.209542827, 61.469025289), (23.209542827, 9.873710658), (35, 9.873710658), (35, 86.682269655), (0, 86.682269655), (0, 78.754855538), align=None)
    extrude(amount=-EXTRUDE_8_2_DEPTH)

    # 草图32 → 切除-拉伸15 (cut, through all)
    with BuildSketch(Plane.XY.offset(3)):
        with Locations((6, 82.754855538)):
            Circle(SKETCH_32_R)
        Polygon((0, 78.754855538), (-16.794956149, 16.07522588), (-35, 16.07522588), (-35, 78.754855538), align=None)
        Polygon((5.907187301, 73.754855538), (-8.026170706, 21.754855538), (9.45, 21.754855538), (9.45, 73.754855538), align=None)
        Polygon((14.311788093, 82.754855538), (14.311788093, 63.468593359), (23.28406303, 82.754855538), align=None)
        Polygon((28.575404659, 82.754855538), (20.523363049, 63.468593359), (31.106046308, 63.468593359), (31.106046308, 82.754855538), align=None)
    extrude(amount=-CUT_EXTRUDE_15_DEPTH, mode=Mode.SUBTRACT)


solid = part.part
